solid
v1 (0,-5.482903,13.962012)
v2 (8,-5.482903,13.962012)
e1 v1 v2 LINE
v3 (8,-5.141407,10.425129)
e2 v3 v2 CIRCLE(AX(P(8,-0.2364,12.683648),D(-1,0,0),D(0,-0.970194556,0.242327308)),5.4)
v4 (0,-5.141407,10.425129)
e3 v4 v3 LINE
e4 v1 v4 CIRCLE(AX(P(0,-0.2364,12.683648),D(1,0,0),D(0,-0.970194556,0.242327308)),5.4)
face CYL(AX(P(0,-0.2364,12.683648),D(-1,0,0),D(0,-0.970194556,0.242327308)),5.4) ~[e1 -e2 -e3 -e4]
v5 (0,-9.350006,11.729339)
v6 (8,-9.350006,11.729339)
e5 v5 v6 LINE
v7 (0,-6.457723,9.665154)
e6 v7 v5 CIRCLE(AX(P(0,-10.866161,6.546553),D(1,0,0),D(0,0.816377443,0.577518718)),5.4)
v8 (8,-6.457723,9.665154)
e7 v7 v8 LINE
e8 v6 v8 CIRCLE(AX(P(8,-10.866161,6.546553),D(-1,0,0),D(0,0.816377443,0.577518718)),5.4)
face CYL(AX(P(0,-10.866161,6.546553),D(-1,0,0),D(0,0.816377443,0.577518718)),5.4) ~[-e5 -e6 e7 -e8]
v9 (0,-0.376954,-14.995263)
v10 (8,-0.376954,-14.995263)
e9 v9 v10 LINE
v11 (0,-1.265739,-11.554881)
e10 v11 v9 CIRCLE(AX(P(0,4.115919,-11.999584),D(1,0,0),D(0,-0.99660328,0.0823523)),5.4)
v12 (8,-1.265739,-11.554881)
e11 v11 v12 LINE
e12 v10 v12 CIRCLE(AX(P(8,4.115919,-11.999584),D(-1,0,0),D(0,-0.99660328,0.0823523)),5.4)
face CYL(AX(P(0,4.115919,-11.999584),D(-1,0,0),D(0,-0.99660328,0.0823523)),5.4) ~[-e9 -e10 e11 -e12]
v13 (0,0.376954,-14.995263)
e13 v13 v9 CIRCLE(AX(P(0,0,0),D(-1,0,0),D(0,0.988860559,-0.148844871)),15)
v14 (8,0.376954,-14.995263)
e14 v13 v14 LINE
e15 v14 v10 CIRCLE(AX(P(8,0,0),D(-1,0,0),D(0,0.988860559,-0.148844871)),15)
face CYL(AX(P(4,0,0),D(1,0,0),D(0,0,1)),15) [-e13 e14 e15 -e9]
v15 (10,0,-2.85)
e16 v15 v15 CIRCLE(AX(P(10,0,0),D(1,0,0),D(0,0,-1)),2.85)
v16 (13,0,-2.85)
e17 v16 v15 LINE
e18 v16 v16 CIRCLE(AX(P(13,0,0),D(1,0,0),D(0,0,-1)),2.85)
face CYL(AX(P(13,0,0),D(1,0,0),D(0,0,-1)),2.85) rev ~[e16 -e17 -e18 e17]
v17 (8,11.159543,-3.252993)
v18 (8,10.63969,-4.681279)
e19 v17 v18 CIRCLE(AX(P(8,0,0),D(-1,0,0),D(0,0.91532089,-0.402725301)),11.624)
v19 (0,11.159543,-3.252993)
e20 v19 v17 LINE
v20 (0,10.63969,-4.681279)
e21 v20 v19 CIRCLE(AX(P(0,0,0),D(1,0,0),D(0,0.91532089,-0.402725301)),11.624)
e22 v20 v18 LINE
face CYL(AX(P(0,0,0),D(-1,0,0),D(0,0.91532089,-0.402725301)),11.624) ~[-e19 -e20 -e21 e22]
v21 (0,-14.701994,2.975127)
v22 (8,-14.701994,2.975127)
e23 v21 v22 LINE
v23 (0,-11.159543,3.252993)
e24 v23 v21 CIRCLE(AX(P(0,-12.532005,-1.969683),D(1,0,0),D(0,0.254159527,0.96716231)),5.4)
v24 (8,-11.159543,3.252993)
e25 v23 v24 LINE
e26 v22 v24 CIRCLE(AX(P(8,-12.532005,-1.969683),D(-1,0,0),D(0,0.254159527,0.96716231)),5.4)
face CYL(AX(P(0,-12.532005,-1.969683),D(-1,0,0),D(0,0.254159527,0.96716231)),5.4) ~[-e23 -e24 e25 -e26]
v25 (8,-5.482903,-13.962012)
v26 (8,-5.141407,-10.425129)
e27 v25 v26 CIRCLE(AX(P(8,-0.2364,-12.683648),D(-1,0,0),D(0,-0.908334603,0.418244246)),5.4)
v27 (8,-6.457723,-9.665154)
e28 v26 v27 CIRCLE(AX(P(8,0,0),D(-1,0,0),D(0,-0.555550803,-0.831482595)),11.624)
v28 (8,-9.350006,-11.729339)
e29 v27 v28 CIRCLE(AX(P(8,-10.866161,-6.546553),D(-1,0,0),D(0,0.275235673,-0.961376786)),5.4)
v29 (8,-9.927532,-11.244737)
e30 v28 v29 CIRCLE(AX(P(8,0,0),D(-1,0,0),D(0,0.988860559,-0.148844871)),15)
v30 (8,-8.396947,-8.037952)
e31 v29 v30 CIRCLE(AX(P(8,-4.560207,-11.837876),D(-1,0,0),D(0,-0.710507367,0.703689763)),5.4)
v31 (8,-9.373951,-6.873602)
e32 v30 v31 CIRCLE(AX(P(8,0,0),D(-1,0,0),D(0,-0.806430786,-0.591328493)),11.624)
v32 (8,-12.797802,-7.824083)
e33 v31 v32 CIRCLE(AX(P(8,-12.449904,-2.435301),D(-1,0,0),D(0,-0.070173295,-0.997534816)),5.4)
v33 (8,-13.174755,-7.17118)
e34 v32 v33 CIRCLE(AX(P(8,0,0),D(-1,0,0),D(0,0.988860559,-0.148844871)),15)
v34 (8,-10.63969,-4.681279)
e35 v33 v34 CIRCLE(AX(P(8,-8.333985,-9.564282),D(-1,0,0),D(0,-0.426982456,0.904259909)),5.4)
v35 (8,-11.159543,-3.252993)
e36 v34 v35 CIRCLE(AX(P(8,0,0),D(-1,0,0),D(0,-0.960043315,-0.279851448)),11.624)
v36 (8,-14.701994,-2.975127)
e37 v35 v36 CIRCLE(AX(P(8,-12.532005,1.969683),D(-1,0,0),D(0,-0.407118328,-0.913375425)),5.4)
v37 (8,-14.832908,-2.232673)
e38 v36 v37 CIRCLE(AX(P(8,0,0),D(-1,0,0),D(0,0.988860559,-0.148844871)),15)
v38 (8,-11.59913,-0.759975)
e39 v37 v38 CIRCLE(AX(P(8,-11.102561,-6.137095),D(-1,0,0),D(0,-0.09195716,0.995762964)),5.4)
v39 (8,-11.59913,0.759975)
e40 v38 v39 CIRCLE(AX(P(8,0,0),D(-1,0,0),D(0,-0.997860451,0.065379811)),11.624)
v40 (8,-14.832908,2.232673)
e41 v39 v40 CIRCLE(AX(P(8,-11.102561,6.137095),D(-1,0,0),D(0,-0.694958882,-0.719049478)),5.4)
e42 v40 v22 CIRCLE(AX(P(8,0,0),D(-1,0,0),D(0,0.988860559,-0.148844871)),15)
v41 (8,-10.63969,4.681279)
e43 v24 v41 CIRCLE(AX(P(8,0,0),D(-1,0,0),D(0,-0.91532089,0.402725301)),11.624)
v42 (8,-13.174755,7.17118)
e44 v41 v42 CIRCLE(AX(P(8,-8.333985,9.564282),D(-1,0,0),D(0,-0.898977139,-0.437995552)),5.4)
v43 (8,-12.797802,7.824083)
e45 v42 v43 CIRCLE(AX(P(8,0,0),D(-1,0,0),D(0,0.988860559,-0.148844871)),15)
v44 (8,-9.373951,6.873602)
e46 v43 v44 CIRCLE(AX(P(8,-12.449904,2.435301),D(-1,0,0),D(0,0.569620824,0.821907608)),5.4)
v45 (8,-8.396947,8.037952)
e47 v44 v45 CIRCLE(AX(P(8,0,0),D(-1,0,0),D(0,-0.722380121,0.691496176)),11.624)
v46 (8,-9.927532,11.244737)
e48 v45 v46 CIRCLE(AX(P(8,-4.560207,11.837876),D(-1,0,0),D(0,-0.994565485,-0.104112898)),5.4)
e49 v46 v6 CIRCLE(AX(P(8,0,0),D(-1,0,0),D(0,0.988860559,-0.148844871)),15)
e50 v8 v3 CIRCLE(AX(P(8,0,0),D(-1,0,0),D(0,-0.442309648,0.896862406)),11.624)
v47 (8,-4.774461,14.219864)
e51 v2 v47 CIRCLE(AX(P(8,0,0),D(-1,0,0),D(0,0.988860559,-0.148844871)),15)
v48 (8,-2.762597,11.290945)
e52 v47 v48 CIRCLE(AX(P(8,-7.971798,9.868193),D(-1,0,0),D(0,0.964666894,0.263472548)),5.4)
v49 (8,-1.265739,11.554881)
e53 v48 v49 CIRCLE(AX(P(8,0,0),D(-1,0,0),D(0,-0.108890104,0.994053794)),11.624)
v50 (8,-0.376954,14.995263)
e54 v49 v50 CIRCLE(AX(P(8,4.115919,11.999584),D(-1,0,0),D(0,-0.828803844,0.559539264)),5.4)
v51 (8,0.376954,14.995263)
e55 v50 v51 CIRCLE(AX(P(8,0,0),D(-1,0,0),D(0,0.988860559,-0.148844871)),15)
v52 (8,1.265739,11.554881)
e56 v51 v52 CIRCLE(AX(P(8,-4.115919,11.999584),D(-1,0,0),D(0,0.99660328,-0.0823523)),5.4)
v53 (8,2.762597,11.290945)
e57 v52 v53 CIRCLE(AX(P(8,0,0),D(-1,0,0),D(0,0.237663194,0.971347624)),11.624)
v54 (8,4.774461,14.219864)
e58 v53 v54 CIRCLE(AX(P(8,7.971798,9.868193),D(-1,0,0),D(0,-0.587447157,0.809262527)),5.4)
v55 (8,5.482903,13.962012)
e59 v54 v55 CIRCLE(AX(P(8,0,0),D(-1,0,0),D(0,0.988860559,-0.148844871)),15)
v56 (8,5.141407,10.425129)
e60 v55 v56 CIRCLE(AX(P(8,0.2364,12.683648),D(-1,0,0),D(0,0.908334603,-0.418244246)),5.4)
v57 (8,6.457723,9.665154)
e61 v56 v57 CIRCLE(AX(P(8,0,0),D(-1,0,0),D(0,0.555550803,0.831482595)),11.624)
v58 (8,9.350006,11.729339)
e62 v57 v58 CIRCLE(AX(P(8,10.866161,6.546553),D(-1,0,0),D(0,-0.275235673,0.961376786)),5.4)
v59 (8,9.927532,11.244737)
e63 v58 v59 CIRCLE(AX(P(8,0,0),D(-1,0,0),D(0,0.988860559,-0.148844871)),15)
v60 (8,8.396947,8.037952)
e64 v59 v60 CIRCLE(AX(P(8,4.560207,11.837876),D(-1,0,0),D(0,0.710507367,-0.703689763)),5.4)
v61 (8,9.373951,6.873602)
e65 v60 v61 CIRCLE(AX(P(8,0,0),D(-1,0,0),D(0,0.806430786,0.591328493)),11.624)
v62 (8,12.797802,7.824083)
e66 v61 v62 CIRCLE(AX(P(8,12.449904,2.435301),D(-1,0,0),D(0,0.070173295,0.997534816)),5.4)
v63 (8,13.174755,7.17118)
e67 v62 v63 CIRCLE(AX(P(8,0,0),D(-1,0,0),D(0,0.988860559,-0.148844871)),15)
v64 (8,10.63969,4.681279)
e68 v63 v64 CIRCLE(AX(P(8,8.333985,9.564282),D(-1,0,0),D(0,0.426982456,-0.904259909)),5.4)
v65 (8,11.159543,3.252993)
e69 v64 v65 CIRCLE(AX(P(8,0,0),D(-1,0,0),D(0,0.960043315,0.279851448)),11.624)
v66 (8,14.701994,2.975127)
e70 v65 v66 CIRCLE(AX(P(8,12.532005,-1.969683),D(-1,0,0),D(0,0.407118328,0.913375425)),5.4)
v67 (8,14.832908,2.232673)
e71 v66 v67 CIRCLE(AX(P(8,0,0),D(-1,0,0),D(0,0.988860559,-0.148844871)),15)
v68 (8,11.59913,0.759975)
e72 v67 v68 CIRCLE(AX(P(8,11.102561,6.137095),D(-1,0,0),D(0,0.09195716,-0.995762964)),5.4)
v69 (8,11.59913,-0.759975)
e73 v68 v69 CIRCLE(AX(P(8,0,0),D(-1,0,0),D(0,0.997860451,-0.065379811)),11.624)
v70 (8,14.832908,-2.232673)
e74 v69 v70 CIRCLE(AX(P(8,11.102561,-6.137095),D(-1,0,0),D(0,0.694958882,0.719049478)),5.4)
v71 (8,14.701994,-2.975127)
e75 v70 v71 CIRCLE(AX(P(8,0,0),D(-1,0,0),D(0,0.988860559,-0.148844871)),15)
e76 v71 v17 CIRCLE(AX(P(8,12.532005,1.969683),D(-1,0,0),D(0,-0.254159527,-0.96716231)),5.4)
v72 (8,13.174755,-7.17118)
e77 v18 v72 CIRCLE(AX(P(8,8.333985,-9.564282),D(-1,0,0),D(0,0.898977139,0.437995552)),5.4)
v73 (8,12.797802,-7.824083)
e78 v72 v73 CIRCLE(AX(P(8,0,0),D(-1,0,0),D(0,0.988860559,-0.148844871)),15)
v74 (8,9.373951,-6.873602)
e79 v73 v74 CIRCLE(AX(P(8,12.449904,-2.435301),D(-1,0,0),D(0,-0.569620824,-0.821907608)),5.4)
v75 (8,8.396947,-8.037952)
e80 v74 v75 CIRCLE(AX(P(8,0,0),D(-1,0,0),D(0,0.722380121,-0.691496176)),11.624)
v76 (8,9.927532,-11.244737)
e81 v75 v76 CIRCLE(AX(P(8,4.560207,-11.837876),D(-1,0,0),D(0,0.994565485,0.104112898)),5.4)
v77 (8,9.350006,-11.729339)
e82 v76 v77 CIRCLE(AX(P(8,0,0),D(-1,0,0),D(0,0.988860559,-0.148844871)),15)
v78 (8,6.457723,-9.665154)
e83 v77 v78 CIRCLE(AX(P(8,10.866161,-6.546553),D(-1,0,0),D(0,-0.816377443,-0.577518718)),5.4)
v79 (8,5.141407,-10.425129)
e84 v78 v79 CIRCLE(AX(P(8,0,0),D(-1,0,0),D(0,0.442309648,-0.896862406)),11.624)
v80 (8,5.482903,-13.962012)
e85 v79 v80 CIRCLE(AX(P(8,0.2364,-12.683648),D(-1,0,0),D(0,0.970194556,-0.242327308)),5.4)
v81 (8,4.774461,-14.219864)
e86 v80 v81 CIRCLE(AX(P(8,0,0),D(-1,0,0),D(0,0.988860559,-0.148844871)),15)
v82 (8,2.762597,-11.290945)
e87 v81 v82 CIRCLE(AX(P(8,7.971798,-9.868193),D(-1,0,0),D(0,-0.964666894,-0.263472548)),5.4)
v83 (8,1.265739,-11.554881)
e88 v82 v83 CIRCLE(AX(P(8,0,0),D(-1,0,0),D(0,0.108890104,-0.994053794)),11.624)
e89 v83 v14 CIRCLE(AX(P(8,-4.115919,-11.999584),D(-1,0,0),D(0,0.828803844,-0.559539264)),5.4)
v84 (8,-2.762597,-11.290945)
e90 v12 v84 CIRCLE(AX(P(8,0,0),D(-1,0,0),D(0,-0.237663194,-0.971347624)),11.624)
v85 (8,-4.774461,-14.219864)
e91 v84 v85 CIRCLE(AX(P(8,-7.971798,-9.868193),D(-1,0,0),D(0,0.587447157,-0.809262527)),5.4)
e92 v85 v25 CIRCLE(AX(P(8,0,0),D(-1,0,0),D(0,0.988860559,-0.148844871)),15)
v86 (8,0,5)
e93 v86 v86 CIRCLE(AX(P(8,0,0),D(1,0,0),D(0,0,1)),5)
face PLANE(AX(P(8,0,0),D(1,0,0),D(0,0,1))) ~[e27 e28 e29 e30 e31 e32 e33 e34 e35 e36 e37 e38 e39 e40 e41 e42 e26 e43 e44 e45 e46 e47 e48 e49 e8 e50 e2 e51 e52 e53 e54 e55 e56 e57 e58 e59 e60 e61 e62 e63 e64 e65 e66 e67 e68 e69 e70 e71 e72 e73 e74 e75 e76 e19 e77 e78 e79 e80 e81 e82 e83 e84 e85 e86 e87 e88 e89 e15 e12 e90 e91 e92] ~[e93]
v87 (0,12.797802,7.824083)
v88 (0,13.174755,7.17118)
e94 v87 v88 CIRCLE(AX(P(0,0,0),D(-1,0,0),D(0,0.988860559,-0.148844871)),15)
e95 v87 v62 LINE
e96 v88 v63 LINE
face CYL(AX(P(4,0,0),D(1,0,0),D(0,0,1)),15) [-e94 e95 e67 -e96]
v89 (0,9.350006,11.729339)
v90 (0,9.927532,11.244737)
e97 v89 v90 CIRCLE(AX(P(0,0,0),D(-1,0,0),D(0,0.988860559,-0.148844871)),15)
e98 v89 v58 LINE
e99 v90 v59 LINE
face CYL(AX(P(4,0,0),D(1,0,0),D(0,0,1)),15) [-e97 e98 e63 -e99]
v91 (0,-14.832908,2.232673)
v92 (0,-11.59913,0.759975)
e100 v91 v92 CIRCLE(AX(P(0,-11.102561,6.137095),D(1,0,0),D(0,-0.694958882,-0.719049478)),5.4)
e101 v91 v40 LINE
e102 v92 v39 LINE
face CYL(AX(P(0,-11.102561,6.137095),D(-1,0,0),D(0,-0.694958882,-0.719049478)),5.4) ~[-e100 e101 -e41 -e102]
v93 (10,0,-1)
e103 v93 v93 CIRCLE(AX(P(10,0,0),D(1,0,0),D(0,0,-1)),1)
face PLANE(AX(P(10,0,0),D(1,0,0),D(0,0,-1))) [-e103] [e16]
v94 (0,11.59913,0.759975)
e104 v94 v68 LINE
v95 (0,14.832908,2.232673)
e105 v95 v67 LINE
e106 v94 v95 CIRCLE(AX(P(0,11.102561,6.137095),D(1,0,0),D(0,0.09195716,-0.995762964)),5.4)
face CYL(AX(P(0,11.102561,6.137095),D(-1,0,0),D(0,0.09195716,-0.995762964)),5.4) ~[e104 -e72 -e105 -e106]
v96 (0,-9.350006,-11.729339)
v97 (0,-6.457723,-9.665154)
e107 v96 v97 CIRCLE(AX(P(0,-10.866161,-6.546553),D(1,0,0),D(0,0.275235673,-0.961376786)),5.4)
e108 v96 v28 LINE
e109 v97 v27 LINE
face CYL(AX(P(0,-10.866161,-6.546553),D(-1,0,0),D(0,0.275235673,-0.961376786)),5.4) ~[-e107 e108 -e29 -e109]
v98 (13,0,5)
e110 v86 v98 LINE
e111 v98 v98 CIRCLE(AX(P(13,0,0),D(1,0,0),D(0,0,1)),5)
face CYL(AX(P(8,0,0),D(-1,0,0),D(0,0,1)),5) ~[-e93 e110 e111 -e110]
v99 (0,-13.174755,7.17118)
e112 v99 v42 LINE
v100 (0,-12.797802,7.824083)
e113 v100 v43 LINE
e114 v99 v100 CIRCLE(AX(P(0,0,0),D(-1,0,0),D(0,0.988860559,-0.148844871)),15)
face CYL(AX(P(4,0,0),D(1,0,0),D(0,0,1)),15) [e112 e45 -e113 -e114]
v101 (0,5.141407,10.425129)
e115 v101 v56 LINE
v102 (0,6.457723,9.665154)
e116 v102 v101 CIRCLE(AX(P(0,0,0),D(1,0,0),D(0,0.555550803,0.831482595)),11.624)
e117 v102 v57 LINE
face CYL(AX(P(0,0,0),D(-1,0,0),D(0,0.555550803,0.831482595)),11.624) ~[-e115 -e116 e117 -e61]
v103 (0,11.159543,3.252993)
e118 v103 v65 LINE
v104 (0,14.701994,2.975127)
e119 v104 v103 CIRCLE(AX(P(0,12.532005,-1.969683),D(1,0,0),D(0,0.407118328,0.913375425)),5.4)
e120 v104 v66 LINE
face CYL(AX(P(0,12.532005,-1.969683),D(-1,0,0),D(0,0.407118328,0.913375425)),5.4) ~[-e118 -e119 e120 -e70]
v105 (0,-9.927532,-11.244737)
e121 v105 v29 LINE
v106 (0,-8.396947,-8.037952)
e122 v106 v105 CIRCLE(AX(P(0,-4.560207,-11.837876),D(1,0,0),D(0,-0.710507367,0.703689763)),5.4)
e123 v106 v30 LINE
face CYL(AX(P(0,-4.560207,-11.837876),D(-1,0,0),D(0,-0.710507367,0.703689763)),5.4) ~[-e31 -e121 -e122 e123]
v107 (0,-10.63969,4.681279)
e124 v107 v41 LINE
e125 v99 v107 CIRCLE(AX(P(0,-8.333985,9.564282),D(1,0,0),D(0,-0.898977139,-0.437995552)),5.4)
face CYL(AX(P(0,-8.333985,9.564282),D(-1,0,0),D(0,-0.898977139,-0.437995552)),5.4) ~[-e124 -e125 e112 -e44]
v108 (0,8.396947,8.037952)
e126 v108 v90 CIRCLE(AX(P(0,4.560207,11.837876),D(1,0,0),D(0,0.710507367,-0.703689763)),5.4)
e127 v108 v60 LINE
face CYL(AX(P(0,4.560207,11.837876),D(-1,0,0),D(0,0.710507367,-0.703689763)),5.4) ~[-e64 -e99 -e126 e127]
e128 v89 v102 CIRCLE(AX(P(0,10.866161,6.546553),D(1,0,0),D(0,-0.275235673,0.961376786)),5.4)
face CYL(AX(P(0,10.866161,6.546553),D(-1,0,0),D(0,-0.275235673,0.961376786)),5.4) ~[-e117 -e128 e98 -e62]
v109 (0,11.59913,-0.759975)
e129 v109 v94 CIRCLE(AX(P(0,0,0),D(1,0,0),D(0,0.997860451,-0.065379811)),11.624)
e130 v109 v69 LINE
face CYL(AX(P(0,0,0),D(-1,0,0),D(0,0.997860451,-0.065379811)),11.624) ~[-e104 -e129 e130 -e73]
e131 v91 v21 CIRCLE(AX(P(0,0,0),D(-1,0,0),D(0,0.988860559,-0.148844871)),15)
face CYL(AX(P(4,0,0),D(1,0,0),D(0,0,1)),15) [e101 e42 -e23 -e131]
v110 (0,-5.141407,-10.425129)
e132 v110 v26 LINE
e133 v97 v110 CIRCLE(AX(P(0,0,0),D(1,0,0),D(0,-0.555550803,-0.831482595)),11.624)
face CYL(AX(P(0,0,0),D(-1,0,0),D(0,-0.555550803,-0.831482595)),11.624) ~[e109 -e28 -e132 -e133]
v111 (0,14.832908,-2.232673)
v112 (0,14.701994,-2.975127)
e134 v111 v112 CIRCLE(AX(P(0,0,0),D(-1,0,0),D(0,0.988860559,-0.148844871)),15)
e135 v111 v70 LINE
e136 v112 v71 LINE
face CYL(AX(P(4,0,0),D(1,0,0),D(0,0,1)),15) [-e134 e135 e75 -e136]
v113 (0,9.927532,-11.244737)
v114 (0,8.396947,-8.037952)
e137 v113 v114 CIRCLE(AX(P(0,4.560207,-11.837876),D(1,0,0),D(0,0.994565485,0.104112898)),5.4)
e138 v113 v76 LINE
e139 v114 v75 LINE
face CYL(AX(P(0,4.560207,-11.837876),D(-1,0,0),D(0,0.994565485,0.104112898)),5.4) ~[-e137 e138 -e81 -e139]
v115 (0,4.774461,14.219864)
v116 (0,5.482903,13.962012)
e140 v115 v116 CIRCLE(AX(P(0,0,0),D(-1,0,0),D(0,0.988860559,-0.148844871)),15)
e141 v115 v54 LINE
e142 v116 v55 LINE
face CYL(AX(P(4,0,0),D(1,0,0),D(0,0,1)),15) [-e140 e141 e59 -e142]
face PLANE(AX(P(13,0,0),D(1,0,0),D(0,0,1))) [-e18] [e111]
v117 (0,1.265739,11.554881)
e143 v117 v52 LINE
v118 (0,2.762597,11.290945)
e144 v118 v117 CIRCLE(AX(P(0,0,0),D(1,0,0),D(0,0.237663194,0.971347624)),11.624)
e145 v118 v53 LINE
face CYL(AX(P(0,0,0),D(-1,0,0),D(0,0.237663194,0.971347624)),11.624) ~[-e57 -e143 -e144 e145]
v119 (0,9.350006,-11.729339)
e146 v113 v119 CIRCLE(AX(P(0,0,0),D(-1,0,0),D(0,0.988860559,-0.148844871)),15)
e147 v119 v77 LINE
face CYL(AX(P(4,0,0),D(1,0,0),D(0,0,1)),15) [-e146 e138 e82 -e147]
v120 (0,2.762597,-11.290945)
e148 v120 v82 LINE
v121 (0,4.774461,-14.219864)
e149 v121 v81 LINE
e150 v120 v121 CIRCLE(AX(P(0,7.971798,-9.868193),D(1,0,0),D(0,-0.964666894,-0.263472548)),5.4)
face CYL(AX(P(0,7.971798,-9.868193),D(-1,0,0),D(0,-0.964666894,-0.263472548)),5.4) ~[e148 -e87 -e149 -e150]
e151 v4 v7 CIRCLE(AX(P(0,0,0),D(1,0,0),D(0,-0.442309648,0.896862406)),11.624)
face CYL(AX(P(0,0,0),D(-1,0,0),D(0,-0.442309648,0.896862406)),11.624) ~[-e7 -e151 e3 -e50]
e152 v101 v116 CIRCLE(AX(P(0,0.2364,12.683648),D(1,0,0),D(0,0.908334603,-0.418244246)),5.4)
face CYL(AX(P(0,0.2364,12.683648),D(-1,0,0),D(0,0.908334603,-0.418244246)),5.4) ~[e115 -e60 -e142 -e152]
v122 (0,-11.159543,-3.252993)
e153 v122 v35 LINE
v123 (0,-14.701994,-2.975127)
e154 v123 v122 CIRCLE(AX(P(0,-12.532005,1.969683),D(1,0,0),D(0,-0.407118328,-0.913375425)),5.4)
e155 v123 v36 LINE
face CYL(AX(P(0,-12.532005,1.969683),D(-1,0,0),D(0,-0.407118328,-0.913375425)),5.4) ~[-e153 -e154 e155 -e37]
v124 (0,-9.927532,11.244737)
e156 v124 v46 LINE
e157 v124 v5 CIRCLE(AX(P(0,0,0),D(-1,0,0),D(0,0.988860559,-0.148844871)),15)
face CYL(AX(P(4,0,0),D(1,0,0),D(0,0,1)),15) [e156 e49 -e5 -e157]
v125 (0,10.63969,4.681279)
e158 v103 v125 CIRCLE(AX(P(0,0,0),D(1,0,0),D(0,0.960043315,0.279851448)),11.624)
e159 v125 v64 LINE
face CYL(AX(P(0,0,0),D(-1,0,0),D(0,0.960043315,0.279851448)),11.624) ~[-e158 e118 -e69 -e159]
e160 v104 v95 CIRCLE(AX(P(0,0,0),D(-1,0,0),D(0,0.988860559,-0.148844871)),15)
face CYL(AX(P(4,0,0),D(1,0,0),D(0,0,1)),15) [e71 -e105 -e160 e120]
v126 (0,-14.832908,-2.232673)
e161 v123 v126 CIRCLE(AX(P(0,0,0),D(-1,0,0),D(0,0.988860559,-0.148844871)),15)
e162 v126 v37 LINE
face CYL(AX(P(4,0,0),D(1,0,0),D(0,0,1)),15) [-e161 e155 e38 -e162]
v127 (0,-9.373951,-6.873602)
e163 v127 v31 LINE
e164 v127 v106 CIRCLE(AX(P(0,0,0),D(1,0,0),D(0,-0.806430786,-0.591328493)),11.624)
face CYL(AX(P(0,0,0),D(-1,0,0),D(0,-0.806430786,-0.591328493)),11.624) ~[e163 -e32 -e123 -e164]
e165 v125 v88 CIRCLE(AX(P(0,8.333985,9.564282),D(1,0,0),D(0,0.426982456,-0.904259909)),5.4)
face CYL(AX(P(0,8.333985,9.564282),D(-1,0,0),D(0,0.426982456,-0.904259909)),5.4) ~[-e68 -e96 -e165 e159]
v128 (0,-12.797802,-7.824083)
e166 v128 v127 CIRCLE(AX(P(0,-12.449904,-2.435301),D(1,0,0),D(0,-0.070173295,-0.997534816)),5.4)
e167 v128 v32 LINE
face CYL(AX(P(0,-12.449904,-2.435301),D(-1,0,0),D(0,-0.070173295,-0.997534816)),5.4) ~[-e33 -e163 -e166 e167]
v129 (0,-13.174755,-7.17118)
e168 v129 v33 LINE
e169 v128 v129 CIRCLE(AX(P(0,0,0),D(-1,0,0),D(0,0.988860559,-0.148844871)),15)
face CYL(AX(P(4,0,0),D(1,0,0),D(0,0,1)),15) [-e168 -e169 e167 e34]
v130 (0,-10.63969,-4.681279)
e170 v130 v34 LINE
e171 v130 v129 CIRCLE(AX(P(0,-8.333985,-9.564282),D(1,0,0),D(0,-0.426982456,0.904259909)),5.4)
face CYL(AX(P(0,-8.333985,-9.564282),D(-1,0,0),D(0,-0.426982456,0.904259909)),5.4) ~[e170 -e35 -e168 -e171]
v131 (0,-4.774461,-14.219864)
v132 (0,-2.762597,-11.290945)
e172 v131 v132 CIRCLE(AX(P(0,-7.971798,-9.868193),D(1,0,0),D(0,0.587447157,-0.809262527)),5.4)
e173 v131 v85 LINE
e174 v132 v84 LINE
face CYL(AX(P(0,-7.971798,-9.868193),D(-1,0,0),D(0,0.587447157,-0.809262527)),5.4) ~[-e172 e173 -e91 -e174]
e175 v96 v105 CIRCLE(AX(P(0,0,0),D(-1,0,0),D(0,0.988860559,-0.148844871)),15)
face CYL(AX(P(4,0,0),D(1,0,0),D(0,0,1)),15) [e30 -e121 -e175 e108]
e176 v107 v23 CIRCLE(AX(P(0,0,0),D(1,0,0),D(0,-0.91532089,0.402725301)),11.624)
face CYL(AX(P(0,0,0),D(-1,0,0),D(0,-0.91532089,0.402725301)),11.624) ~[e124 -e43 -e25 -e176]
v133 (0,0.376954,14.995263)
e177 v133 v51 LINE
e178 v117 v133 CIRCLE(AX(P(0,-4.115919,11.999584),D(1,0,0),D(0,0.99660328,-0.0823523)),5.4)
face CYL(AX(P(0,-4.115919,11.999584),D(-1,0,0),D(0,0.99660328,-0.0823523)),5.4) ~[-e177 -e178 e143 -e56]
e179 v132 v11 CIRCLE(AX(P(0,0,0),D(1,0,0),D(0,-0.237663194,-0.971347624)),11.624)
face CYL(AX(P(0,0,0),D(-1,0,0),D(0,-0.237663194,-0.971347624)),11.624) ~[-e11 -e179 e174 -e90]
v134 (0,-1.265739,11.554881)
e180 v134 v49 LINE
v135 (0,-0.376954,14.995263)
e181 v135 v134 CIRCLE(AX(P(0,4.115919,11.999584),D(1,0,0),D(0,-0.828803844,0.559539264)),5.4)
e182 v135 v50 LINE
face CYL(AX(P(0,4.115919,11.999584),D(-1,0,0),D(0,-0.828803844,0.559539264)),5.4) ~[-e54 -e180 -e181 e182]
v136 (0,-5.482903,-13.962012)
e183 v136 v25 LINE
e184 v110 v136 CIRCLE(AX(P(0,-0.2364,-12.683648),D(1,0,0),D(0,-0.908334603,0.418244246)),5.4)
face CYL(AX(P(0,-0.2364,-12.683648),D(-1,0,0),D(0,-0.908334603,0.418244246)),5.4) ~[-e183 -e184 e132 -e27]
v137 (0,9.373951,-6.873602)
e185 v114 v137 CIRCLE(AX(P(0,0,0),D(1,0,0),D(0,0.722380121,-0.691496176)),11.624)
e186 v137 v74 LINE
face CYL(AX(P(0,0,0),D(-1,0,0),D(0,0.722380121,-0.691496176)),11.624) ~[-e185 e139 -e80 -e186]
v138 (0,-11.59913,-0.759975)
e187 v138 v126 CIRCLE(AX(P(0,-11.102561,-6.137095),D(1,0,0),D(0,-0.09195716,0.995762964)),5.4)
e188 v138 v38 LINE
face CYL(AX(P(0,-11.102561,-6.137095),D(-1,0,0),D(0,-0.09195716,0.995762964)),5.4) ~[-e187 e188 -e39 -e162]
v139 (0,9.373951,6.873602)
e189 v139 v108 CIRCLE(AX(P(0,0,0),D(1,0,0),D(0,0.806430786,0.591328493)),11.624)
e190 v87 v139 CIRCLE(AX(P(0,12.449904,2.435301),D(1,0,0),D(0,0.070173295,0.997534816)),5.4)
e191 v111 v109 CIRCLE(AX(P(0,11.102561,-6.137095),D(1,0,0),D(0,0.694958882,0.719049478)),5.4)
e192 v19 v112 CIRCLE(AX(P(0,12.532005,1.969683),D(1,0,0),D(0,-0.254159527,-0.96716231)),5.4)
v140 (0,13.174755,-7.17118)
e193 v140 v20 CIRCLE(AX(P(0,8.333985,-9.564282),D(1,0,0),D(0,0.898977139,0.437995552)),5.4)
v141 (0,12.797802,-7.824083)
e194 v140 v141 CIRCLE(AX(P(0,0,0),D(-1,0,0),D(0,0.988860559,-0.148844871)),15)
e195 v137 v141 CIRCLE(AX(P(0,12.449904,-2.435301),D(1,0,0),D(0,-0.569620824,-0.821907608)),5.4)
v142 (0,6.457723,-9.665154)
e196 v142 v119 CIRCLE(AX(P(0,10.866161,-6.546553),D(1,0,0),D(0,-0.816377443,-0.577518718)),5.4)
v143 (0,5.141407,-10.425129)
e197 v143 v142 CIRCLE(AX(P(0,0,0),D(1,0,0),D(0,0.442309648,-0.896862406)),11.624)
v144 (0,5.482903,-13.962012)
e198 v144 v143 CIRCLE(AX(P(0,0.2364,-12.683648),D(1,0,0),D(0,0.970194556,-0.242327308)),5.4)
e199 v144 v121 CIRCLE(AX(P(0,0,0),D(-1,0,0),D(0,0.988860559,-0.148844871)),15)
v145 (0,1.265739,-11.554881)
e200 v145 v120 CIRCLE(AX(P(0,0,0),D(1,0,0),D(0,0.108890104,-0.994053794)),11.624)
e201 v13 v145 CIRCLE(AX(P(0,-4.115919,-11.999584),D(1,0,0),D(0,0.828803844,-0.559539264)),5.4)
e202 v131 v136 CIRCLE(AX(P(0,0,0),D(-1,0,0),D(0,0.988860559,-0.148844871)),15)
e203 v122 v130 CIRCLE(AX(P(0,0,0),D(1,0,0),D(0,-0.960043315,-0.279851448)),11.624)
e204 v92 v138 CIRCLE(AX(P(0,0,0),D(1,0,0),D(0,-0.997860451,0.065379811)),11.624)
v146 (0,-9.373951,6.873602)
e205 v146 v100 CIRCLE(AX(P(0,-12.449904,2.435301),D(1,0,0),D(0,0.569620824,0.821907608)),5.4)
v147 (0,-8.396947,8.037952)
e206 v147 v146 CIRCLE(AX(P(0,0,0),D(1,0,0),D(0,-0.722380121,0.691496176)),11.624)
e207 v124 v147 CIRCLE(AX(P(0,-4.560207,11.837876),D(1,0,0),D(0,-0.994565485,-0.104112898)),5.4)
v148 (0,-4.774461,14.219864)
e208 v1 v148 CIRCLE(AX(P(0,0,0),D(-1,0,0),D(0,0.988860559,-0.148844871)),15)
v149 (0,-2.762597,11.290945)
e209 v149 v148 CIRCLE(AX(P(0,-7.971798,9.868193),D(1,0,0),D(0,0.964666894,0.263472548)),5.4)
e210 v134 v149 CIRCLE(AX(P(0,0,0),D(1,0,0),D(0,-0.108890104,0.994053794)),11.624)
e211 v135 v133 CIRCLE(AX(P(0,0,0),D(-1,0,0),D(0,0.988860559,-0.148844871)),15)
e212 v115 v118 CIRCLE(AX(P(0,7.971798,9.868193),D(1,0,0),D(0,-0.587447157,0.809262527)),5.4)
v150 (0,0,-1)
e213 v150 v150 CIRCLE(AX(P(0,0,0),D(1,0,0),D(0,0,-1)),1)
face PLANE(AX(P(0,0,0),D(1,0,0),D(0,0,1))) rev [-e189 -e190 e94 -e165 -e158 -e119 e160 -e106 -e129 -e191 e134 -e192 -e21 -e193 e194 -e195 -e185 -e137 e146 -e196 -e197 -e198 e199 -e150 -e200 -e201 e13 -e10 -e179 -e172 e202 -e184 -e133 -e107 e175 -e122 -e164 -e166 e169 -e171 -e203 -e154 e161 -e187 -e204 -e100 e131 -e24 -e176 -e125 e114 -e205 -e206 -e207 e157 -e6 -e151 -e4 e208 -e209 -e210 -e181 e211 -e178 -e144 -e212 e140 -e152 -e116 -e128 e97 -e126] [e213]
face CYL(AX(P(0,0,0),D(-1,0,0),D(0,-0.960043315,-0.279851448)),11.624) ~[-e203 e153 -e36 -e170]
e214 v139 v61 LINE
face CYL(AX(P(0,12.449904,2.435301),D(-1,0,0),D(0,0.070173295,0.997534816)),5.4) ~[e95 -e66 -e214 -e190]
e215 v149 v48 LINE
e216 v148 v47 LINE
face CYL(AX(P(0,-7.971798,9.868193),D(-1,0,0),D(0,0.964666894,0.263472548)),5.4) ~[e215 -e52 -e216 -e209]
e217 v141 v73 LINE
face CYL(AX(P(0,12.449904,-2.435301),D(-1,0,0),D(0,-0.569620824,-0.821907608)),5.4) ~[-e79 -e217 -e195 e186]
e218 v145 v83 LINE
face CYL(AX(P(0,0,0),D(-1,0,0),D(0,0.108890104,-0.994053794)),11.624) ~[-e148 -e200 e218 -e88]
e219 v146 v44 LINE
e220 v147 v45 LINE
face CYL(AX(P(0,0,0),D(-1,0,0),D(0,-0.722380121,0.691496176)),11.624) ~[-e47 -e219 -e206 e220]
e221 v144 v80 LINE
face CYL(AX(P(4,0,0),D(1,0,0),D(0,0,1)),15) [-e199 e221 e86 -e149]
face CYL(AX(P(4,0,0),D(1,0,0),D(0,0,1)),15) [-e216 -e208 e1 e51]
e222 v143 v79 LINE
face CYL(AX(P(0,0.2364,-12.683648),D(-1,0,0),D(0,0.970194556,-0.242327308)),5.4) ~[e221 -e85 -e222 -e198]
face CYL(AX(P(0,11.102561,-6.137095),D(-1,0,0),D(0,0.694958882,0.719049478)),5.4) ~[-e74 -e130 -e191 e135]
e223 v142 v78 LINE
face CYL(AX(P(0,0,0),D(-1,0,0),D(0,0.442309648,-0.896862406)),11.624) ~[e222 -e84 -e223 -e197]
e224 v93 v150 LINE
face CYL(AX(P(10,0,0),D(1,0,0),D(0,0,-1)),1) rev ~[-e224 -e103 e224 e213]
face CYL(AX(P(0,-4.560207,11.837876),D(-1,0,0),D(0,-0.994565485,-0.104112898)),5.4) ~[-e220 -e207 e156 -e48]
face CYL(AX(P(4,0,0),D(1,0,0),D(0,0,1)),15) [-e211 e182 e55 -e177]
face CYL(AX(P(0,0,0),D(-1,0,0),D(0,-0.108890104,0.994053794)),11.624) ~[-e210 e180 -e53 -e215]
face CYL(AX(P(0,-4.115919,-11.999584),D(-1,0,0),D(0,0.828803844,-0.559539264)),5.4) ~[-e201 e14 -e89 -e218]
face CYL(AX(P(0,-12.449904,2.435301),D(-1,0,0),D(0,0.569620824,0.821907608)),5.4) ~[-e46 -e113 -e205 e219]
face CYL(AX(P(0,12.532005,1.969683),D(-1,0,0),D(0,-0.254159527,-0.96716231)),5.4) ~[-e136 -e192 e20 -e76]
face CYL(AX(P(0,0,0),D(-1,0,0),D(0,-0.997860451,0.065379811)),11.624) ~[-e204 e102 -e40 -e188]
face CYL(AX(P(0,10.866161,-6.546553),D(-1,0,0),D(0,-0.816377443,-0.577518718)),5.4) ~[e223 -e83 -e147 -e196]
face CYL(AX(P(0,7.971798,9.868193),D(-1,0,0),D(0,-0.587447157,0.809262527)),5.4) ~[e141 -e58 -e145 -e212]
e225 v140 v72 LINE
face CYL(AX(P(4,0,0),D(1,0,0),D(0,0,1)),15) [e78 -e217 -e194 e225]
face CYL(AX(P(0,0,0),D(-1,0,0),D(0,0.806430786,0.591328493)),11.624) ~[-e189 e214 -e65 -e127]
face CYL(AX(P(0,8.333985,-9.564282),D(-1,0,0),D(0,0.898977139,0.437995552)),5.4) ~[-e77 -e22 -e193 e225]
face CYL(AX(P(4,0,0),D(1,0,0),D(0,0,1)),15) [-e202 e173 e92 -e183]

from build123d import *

# Parameters (mm, degrees)
BASPROSKE_W             = 8
BASPROSKE_H             = 15
TOOTHCUT_DEPTH          = 23.671568097
TEETHCUTS_COUNT         = 18
TEETHCUTS_ANGLE         = 340
BORSKE_R                = 0.4
BORE_DEPTH              = 50.0000508
ESQUISSE1_R             = 5
BOSS_EXTRU_1_DEPTH      = 5
ESQUISSE2_R             = 2.85
ENL_V_MAT_EXTRU_1_DEPTH = 3
ESQUISSE3_R             = 1
ENL_V_MAT_EXTRU_2_DEPTH = 24.345559985


with BuildPart() as part:
    # BasProSke → Base-Revolve (revolve)
    with BuildSketch(Plane(origin=(0, 0, 0), x_dir=(1, 0, 0), z_dir=(0, 1, 0)), mode=Mode.PRIVATE) as base_revolve_sk:
        with Locations((4, 7.5)):
            Rectangle(BASPROSKE_W, BASPROSKE_H)
    revolve(base_revolve_sk.sketch.rotate(Axis((-10, 0, 0), (1, 0, 0)), 180), axis=Axis((-10, 0, 0), (1, 0, 0)))

    # TooCutSke → ToothCut (cut, through all)
    with BuildSketch(Plane(origin=(0, 0, 0), x_dir=(0, 0, -1), z_dir=(1, 0, 0))):
        with BuildLine():
            ThreePointArc((0.759974923, 11.599129886), (0, 11.624), (-0.759974923, 11.599129886))
            ThreePointArc((-0.759974923, 11.599129886), (-1.229186471, 13.354767823), (-2.254227748, 14.855339189))
            ThreePointArc((-2.254227748, 14.855339189), (0, 15.0254), (2.254227748, 14.855339189))
            ThreePointArc((2.254227748, 14.855339189), (1.229186471, 13.354767823), (0.759974923, 11.599129886))
        make_face()
    toothcut = extrude(amount=TOOTHCUT_DEPTH, mode=Mode.SUBTRACT)

    # TeethCuts: ToothCut ×18 about axis
    teethcuts_axis = Axis((-10, 0, 0), (1, 0, 0))
    for i in range(1, TEETHCUTS_COUNT):
        add(toothcut.rotate(teethcuts_axis, i * TEETHCUTS_ANGLE / (TEETHCUTS_COUNT - 1)), mode=Mode.SUBTRACT)

    # BorSke → Bore (cut, symmetric)
    with BuildSketch(Plane(origin=(0, 0, 0), x_dir=(0, 0, -1), z_dir=(1, 0, 0))):
        with Locations(Location((0, 0, 0), (0, 0, 180))):
            Circle(BORSKE_R)
    extrude(amount=BORE_DEPTH, both=True, mode=Mode.SUBTRACT)

    # Esquisse1 → Boss.-Extru.1 (add)
    with BuildSketch(Plane(origin=(8, 0, 0), x_dir=(0, 0, -1), z_dir=(1, 0, 0))):
        with Locations(Location((0, 0, 0), (0, 0, 180))):
            Circle(ESQUISSE1_R)
    extrude(amount=BOSS_EXTRU_1_DEPTH)

    # Esquisse2 → Enlèv. mat.-Extru.1 (cut)
    with BuildSketch(Plane(origin=(13, 0, 0), x_dir=(0, 0, -1), z_dir=(1, 0, 0))):
        Circle(ESQUISSE2_R)
    extrude(amount=-ENL_V_MAT_EXTRU_1_DEPTH, mode=Mode.SUBTRACT)

    # Esquisse3 → Enlèv. mat.-Extru.2 (cut, through all)
    with BuildSketch(Plane(origin=(10, 0, 0), x_dir=(0, 0, -1), z_dir=(1, 0, 0))):
        Circle(ESQUISSE3_R)
    extrude(amount=-ENL_V_MAT_EXTRU_2_DEPTH, mode=Mode.SUBTRACT)


solid = part.part
